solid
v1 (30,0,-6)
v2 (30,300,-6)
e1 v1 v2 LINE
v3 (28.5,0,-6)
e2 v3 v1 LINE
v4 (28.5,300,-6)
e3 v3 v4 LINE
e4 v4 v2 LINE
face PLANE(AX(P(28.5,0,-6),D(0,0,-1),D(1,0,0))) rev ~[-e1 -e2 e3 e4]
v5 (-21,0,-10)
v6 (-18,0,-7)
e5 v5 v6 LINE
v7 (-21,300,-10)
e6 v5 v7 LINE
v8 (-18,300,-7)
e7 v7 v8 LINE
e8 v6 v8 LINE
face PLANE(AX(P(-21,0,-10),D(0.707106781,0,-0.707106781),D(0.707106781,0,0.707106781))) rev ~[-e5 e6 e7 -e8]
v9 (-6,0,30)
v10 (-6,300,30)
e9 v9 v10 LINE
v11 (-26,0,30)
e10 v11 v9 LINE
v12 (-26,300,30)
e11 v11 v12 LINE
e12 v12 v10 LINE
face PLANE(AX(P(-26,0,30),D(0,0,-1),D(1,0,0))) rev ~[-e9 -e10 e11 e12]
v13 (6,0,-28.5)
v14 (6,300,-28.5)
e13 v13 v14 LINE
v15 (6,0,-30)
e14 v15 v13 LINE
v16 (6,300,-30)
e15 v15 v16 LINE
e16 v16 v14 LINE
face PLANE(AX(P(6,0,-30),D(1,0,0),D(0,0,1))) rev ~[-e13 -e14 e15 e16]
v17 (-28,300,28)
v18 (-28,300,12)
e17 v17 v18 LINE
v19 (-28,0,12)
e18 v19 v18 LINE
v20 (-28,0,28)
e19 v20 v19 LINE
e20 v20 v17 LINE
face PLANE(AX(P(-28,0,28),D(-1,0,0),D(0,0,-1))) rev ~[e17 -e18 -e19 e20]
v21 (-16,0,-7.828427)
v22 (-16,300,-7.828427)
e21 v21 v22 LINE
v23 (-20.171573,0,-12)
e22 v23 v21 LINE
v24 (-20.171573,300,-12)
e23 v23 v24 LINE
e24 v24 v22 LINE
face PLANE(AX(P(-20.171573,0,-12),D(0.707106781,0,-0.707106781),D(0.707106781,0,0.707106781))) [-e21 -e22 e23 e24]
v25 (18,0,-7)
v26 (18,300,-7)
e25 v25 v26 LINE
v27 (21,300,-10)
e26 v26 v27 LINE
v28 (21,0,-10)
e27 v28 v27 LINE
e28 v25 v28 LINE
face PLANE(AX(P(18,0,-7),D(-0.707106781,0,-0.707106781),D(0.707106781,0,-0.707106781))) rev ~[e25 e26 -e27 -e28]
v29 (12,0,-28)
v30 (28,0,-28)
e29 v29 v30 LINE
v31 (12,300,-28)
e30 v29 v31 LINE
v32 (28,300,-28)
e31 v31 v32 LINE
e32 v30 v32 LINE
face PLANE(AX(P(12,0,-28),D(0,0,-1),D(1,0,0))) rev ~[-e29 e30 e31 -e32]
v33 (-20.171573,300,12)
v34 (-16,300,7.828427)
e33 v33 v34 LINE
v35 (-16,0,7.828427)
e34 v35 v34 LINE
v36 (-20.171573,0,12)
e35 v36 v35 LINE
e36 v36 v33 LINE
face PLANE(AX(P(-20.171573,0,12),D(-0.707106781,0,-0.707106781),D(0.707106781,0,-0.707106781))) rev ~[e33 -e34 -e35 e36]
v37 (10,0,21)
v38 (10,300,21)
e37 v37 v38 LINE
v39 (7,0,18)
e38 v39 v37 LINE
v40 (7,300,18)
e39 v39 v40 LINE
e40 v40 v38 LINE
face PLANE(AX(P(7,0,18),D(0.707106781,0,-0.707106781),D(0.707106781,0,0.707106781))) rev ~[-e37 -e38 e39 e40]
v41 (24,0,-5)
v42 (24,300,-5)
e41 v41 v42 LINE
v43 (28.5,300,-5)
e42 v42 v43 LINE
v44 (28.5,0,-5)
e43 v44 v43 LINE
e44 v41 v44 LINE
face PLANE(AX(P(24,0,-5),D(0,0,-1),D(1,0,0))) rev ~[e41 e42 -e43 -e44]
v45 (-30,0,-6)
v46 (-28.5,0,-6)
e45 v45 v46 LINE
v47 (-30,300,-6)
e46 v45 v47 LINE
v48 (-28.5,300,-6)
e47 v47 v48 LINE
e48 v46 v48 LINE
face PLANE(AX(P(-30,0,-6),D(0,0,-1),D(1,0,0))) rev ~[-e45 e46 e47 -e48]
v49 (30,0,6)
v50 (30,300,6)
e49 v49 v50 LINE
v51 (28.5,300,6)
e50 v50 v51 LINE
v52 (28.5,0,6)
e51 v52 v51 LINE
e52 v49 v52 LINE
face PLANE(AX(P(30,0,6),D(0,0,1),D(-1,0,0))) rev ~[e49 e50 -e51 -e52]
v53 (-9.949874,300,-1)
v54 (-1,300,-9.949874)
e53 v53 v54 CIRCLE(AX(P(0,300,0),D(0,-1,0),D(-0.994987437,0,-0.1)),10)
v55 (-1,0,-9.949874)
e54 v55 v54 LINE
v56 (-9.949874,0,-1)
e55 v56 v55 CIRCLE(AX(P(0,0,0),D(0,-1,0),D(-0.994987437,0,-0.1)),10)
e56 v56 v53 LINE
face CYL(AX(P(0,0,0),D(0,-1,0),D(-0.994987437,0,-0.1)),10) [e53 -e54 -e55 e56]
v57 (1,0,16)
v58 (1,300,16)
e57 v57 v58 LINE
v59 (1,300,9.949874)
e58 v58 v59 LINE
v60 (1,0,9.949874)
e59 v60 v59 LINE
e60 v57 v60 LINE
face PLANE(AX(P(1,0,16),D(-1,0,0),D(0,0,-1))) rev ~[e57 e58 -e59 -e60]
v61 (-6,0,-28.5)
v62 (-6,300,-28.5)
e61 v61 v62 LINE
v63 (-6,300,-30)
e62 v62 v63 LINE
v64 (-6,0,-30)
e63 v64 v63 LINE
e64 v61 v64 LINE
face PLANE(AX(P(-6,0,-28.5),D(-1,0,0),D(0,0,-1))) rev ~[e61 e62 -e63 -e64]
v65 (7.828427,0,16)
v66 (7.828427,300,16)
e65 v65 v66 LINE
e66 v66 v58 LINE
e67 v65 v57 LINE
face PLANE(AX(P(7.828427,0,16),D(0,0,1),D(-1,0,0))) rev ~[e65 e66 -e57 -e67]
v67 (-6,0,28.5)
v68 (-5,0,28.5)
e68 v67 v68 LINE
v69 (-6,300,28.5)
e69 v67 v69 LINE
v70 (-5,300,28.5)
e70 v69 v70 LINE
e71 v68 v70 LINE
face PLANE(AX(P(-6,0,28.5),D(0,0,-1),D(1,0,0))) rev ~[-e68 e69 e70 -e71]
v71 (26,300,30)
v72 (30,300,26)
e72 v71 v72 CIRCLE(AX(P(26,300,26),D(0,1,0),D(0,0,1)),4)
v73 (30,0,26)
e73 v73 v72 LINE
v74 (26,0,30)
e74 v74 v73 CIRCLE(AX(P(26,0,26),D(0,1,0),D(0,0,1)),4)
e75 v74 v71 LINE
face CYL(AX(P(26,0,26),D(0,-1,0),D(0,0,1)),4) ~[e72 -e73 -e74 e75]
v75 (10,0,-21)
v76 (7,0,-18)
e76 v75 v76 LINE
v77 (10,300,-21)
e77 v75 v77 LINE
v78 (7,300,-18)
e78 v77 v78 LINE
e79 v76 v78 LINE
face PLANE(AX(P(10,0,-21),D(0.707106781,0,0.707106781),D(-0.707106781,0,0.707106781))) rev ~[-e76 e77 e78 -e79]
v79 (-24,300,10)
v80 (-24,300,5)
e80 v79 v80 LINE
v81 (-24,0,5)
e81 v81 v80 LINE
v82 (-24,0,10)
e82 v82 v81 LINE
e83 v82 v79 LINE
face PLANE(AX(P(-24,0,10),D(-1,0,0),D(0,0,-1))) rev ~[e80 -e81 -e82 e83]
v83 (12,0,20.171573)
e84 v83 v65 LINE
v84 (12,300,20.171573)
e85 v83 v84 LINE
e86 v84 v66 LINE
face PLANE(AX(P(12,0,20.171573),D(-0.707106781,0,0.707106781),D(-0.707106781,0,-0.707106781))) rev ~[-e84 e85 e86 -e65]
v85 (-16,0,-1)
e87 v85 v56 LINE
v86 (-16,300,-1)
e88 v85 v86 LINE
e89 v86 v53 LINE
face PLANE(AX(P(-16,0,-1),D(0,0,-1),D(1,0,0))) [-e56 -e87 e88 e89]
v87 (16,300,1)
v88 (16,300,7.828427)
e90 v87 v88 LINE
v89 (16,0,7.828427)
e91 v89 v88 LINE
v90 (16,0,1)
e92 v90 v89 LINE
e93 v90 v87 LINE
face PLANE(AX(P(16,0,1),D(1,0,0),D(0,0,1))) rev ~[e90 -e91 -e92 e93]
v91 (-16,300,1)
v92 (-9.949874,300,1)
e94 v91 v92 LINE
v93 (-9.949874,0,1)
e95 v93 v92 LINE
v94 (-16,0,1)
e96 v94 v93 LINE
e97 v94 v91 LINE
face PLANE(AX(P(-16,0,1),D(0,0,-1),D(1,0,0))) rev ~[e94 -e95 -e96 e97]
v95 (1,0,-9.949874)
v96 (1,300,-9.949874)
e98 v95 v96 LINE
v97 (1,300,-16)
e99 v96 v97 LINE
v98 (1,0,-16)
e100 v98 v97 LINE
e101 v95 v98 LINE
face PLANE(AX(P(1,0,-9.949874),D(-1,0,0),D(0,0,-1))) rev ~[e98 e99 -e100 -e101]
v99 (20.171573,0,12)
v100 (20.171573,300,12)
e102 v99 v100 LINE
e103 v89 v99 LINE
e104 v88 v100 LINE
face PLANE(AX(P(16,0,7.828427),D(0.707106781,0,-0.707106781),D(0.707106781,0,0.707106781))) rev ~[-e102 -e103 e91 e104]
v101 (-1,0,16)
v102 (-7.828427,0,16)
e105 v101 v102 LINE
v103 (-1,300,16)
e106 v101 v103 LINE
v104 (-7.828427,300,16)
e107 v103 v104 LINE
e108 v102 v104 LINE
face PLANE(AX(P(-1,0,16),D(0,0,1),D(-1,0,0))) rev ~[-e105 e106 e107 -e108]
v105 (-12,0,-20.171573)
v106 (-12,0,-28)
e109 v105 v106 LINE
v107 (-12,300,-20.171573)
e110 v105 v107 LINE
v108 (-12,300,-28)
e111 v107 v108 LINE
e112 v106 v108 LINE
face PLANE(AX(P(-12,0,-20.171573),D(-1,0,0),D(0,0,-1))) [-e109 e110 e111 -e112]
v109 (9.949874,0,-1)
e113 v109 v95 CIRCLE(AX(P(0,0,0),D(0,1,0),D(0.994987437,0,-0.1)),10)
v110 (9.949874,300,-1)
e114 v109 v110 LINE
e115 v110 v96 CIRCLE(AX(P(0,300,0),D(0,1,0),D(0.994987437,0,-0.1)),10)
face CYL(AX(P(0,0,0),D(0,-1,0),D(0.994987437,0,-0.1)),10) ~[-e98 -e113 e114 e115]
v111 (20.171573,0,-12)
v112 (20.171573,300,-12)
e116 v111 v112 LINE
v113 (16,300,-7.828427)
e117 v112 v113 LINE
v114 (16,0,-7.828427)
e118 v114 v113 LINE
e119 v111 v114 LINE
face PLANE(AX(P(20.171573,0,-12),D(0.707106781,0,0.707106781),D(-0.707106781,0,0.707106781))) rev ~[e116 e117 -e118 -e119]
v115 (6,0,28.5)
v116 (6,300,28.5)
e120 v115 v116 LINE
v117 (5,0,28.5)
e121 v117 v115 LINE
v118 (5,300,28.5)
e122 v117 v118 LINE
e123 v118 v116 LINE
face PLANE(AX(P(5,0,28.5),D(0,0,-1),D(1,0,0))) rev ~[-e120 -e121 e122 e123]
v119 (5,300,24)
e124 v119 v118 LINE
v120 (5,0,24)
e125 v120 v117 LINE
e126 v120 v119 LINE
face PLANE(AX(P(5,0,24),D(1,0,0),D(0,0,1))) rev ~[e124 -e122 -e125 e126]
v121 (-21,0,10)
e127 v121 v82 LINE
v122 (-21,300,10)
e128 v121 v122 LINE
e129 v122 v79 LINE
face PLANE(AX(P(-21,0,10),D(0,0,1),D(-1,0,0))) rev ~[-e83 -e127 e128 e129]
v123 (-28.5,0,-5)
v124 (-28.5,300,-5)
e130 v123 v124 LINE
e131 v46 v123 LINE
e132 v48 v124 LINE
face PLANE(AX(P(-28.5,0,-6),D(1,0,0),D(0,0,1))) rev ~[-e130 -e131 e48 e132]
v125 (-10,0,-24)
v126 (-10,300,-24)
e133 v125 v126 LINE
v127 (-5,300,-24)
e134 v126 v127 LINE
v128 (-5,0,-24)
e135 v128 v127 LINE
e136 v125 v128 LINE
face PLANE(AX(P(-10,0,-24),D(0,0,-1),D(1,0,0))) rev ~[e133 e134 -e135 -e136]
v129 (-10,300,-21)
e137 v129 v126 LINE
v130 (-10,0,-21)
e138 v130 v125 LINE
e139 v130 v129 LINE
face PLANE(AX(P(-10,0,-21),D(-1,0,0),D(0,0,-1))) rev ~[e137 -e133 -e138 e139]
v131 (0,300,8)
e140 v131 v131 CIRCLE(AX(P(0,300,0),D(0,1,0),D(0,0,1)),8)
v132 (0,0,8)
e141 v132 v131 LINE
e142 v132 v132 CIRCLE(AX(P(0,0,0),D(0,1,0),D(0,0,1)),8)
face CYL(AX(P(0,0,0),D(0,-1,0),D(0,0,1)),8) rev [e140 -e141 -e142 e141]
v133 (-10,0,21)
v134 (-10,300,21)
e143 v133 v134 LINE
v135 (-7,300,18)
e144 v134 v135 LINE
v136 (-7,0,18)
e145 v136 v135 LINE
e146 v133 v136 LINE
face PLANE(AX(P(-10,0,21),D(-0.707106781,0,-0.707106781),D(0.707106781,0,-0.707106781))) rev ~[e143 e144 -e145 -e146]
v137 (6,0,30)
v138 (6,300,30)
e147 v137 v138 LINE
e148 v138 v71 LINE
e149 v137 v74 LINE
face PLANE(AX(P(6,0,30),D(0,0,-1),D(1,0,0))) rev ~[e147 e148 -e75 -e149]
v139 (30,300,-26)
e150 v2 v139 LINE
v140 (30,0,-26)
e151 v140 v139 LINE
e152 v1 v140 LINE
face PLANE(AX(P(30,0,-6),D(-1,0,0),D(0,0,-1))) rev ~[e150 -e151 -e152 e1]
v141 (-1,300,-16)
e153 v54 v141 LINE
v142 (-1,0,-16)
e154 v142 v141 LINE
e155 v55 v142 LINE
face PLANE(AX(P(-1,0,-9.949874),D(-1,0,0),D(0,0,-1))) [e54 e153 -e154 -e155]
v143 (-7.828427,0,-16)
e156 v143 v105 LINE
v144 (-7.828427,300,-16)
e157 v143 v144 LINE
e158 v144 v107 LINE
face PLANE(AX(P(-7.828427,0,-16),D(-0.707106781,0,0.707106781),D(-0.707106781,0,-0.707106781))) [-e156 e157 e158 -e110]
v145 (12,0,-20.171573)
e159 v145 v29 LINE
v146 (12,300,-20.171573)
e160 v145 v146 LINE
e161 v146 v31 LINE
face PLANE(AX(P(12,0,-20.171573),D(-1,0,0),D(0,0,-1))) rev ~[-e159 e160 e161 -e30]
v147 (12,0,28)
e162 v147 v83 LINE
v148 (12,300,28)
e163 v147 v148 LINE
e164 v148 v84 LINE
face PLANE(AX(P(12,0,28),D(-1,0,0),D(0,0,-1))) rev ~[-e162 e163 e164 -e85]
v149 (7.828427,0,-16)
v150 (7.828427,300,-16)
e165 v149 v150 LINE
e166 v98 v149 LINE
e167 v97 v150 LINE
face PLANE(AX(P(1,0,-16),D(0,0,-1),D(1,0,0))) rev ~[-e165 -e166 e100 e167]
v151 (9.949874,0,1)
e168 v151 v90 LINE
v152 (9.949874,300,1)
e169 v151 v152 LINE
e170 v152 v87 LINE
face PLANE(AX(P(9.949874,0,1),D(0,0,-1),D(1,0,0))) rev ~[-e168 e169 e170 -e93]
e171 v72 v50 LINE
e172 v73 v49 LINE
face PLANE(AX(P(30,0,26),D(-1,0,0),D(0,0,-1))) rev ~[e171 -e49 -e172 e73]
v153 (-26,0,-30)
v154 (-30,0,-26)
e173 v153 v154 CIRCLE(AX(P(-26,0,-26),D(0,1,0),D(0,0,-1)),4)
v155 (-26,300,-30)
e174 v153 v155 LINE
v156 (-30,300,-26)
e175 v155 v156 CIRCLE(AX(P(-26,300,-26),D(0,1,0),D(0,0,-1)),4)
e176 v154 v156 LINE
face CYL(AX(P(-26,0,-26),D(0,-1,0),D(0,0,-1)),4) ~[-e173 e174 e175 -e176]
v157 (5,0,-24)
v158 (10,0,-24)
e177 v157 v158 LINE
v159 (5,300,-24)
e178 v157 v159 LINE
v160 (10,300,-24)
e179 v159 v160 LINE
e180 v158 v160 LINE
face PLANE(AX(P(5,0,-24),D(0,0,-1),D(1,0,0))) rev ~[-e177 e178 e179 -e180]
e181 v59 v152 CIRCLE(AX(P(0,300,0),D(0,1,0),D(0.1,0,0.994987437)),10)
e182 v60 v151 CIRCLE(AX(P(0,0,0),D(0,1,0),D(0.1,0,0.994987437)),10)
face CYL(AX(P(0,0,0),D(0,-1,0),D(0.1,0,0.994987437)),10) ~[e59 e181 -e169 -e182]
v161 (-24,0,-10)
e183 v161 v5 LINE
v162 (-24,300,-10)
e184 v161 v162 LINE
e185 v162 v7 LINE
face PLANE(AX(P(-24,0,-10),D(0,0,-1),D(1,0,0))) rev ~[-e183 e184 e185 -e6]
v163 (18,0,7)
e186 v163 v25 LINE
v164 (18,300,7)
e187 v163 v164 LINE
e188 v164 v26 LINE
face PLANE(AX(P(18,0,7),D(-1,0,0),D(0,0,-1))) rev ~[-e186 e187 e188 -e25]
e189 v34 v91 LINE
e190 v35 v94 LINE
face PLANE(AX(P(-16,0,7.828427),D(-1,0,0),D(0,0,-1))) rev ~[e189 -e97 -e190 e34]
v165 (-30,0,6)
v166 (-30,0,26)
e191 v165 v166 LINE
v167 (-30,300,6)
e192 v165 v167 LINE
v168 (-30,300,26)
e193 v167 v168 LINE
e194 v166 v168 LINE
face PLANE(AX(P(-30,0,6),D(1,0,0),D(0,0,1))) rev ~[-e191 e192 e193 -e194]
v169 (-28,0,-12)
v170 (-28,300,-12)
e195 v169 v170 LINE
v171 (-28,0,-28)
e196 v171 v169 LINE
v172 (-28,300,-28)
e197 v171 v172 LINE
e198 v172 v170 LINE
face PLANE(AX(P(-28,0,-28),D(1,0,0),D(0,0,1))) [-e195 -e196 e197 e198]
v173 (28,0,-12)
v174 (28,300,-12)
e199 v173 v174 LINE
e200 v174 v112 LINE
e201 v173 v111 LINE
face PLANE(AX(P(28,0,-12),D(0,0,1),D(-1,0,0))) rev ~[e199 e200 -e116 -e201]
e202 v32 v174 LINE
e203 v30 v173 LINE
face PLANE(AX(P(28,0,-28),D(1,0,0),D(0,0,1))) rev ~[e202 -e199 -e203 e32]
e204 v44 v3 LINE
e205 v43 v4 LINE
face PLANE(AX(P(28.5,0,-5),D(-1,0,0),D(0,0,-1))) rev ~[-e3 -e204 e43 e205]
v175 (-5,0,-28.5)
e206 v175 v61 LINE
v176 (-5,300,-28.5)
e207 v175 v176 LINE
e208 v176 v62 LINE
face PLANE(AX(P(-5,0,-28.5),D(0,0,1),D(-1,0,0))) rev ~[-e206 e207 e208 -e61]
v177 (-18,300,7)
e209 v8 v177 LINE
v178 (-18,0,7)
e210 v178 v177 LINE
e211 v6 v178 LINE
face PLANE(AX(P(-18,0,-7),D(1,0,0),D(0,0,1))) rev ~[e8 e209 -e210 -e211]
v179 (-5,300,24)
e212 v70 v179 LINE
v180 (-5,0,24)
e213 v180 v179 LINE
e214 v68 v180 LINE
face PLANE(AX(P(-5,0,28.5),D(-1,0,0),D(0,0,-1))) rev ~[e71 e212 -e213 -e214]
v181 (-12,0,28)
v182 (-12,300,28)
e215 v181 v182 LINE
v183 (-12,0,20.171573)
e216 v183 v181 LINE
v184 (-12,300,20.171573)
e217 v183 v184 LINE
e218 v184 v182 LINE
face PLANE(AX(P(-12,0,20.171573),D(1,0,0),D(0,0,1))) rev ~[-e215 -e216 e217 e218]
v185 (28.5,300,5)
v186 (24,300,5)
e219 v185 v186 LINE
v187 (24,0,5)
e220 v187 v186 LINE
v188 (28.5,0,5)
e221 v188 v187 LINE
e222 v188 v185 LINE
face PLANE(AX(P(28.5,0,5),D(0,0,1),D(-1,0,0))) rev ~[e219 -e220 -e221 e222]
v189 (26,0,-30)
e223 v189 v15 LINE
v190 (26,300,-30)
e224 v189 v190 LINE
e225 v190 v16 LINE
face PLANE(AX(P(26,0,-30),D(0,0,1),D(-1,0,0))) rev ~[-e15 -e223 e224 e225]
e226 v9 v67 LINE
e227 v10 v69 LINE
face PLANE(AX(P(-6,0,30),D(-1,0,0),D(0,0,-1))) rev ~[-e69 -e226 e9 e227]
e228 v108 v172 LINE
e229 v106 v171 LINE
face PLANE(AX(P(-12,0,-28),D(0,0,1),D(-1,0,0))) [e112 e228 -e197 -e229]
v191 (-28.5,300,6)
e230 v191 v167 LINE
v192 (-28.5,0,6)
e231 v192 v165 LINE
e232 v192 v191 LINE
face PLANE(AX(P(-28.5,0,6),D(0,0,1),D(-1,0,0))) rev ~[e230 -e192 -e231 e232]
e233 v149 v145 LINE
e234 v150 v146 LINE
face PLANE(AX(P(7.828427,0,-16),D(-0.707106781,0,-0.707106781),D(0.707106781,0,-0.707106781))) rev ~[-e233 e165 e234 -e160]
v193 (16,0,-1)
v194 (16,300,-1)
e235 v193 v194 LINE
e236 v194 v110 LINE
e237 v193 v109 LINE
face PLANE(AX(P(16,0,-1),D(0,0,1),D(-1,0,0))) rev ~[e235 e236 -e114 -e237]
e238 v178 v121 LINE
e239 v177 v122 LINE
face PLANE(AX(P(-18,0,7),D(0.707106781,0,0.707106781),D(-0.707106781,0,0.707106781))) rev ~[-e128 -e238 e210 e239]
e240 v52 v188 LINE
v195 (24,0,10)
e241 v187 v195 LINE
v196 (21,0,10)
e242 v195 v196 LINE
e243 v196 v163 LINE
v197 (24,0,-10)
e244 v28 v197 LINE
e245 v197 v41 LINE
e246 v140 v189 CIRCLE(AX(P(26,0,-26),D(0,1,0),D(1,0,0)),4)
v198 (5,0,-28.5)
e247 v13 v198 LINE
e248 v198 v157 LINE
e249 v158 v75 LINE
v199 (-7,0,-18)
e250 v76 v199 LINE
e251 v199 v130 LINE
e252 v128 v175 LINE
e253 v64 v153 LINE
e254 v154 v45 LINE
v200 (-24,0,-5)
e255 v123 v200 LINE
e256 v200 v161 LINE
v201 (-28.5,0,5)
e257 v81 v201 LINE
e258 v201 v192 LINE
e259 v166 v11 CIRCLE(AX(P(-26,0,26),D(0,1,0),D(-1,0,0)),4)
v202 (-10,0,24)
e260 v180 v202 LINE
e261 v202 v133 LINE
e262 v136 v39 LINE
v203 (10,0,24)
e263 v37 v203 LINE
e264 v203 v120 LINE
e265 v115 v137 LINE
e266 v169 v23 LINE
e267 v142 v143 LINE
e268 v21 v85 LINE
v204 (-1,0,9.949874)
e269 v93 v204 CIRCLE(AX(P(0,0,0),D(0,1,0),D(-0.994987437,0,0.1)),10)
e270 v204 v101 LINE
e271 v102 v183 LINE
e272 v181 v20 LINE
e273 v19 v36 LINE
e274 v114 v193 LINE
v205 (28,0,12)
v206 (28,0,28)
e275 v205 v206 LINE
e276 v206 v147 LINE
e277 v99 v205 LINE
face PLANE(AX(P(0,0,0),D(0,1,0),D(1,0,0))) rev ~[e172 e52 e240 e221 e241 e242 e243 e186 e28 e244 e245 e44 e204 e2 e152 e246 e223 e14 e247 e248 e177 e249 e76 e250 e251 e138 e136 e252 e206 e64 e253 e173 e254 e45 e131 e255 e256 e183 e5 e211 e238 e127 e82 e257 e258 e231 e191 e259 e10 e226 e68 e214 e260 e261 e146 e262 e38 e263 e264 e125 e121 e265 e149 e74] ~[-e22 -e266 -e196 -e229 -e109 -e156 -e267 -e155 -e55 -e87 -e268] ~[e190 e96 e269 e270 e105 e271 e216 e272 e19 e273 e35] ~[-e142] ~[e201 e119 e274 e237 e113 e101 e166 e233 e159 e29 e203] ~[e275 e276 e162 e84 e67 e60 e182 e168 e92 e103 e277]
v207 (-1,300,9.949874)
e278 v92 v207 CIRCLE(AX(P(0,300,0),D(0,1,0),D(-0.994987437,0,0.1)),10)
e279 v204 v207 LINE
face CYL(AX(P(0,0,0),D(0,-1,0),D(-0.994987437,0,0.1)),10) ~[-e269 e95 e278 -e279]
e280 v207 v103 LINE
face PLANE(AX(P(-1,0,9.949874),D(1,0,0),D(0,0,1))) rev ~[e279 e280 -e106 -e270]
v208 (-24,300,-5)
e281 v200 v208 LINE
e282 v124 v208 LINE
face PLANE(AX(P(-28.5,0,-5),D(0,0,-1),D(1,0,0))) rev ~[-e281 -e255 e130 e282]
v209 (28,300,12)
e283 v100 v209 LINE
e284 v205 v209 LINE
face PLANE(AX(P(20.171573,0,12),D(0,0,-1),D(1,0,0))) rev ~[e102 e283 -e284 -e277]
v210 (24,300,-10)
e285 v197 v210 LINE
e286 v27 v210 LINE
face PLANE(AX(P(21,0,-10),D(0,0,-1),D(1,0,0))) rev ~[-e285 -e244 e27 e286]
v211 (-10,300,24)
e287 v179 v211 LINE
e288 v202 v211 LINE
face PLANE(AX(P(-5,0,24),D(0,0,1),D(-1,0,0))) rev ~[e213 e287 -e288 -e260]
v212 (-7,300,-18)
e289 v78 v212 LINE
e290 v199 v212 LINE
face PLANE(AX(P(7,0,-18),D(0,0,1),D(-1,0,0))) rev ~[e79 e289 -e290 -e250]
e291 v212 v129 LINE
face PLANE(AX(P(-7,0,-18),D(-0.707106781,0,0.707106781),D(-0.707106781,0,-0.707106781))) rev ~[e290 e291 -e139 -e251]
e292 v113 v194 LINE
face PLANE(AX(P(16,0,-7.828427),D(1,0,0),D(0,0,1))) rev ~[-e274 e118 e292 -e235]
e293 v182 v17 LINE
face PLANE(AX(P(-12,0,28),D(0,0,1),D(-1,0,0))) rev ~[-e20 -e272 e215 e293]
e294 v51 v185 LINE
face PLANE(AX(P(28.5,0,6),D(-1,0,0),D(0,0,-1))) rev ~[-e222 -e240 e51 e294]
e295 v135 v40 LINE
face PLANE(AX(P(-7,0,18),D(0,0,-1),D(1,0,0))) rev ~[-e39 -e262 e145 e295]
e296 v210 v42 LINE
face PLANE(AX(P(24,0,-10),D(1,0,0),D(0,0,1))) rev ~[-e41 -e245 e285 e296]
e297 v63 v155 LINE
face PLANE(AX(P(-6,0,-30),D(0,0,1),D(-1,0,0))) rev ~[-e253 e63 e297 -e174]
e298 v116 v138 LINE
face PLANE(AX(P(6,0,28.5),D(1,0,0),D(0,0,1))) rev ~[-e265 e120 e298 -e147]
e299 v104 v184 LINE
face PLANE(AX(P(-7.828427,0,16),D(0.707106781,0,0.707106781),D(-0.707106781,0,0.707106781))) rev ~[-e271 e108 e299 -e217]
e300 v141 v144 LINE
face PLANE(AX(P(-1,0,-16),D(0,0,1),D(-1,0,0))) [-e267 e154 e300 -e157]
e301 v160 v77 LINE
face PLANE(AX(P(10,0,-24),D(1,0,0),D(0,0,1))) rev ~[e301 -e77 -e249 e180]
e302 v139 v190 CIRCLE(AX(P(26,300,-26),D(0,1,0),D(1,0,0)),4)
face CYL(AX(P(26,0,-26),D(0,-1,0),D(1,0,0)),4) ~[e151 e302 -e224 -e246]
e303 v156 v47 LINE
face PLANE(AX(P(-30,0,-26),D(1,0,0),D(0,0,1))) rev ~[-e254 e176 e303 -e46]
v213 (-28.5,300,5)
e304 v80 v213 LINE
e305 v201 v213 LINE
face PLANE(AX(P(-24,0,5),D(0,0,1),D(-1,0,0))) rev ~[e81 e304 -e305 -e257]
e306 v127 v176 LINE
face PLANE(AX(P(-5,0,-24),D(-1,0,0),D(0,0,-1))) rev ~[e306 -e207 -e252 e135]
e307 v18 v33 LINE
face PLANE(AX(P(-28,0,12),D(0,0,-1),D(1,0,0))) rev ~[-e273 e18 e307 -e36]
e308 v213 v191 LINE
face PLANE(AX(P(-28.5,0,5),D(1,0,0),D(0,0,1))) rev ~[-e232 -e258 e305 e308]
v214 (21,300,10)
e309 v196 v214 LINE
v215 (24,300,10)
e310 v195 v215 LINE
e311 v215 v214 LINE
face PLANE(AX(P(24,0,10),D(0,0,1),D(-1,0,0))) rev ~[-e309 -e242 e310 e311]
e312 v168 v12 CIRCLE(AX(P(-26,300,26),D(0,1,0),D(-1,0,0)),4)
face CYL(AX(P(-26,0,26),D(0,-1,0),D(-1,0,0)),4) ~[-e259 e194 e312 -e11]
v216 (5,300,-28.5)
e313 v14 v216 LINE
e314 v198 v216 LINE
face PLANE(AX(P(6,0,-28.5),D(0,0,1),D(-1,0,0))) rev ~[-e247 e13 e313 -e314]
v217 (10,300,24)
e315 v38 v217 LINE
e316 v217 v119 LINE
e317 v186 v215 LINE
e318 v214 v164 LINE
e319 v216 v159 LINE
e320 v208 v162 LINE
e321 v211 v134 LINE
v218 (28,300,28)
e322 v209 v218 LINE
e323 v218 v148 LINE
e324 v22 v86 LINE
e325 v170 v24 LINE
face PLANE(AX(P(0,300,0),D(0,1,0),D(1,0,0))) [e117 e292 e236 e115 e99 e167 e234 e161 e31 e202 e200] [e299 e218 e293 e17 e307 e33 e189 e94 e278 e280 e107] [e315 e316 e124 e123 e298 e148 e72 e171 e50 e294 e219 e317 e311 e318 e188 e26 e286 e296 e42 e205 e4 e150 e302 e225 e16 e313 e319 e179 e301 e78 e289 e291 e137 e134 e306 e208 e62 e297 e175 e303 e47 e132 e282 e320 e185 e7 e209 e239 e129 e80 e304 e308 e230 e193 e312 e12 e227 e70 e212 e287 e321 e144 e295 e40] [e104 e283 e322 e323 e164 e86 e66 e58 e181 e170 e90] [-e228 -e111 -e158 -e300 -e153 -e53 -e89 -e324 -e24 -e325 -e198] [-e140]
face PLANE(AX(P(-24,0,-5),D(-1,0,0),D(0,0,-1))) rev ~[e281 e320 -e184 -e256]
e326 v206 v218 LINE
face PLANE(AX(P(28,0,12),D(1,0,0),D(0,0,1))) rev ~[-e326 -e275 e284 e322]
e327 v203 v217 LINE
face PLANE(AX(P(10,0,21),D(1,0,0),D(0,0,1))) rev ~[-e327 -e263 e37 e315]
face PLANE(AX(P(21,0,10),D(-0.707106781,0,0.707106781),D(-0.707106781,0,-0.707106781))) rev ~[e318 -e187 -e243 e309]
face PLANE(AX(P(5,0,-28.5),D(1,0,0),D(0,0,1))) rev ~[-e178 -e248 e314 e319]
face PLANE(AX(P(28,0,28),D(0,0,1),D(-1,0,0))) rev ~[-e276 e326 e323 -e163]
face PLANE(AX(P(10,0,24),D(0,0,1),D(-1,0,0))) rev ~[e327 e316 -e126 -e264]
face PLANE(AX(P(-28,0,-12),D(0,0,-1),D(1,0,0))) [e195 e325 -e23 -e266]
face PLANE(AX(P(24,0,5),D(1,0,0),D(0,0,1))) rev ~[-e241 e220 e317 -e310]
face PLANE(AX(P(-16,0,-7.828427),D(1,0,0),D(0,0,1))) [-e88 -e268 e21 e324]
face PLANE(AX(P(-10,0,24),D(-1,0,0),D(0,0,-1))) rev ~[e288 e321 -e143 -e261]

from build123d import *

# Parameters (mm, degrees)
SKETCH_1_R      = 8
EXTRUDE_1_DEPTH = 300


with BuildPart() as part:
    # 草图1 → 凸台-拉伸1 (new body)
    with BuildSketch(Plane(origin=(0, 0, 0), x_dir=(1, 0, 0), z_dir=(0, 1, 0))):
        with BuildLine():
            Line((-30, 5.999999999), (-28.5, 5.999999999))
            Line((-28.5, 5.999999999), (-28.5, 4.999999999))
            Line((-28.5, 4.999999999), (-24, 4.999999999))
            Line((-24, 4.999999999), (-24, 9.999999999))
            Line((-24, 9.999999999), (-21, 9.999999999))
            Line((-21, 9.999999999), (-18, 6.999999999))
            Line((-18, 6.999999999), (-18, -7.000000001))
            Line((-18, -7.000000001), (-21, -10.000000001))
            Line((-21, -10.000000001), (-24, -10.000000001))
            Line((-24, -10.000000001), (-24, -5.000000001))
            Line((-24, -5.000000001), (-28.5, -5.000000001))
            Line((-28.5, -5.000000001), (-28.5, -6.000000001))
            Line((-28.5, -6.000000001), (-30, -6.000000001))
            Line((-30, -6.000000001), (-30, -26.000000001))
            ThreePointArc((-30, -26.000000001), (-28.828427125, -28.828427126), (-26, -30.000000001))
            Line((-26, -30.000000001), (-6, -30.000000001))
            Line((-6, -30.000000001), (-6, -28.500000001))
            Line((-6, -28.500000001), (-5, -28.500000001))
            Line((-5, -28.500000001), (-5, -24.000000001))
            Line((-5, -24.000000001), (-10, -24.000000001))
            Line((-10, -24.000000001), (-10, -21.000000001))
            Line((-10, -21.000000001), (-7, -18.000000001))
            Line((-7, -18.000000001), (7, -18.000000001))
            Line((7, -18.000000001), (10, -21.000000001))
            Line((10, -21.000000001), (10, -24.000000001))
            Line((10, -24.000000001), (5, -24.000000001))
            Line((5, -24.000000001), (5, -28.500000001))
            Line((5, -28.500000001), (6, -28.500000001))
            Line((6, -28.500000001), (6, -30.000000001))
            Line((6, -30.000000001), (26, -30.000000001))
            ThreePointArc((26, -30.000000001), (28.828427125, -28.828427126), (30, -26.000000001))
            Line((30, -26.000000001), (30, -6.000000001))
            Line((30, -6.000000001), (28.5, -6.000000001))
            Line((28.5, -6.000000001), (28.5, -5.000000001))
            Line((28.5, -5.000000001), (24, -5.000000001))
            Line((24, -5.000000001), (24, -10.000000001))
            Line((24, -10.000000001), (21, -10.000000001))
            Line((21, -10.000000001), (18, -7.000000001))
            Line((18, -7.000000001), (18, 6.999999999))
            Line((18, 6.999999999), (21, 9.999999999))
            Line((21, 9.999999999), (24, 9.999999999))
            Line((24, 9.999999999), (24, 4.999999999))
            Line((24, 4.999999999), (28.5, 4.999999999))
            Line((28.5, 4.999999999), (28.5, 5.999999999))
            Line((28.5, 5.999999999), (30, 5.999999999))
            Line((30, 5.999999999), (30, 25.999999999))
            ThreePointArc((30, 25.999999999), (28.828427125, 28.828427124), (26, 29.999999999))
            Line((26, 29.999999999), (6, 29.999999999))
            Line((6, 29.999999999), (6, 28.499999999))
            Line((6, 28.499999999), (5, 28.499999999))
            Line((5, 28.499999999), (5, 23.999999999))
            Line((5, 23.999999999), (10, 23.999999999))
            Line((10, 23.999999999), (10, 20.999999999))
            Line((10, 20.999999999), (7, 17.999999999))
            Line((7, 17.999999999), (-7, 17.999999999))
            Line((-7, 17.999999999), (-10, 20.999999999))
            Line((-10, 20.999999999), (-10, 23.999999999))
            Line((-10, 23.999999999), (-5, 23.999999999))
            Line((-5, 23.999999999), (-5, 28.499999999))
            Line((-5, 28.499999999), (-6, 28.499999999))
            Line((-6, 28.499999999), (-6, 29.999999999))
            Line((-6, 29.999999999), (-26.000000001, 29.999999999))
            ThreePointArc((-26.000000001, 29.999999999), (-28.828427125, 28.828427123), (-30, 25.999999999))
            Line((-30, 25.999999999), (-30, 5.999999999))
        make_face()
        with Locations(Location((0, 0, 0), (0, 0, 270))):
            Circle(SKETCH_1_R, mode=Mode.SUBTRACT)
        with BuildLine():
            Line((-16, 1), (-9.949874371, 1))
            ThreePointArc((-9.949874371, 1), (-7.071067812, 7.071067811), (-1.000000001, 9.949874371))
            Line((-1.000000001, 9.949874371), (-1.000000001, 16))
            Line((-1.000000001, 16), (-7.828427125, 16))
            Line((-7.828427125, 16), (-12, 20.171572875))
            Line((-12, 20.171572875), (-12, 28))
            Line((-12, 28), (-28, 28))
            Line((-28, 28), (-28, 12))
            Line((-28, 12), (-20.171572875, 12))
            Line((-20.171572875, 12), (-16, 7.828427125))
            Line((-16, 7.828427125), (-16, 1))
        make_face(mode=Mode.SUBTRACT)
        with BuildLine():
            Line((1, 9.949874371), (1, 16))
            Line((1, 16), (7.828427125, 16))
            Line((7.828427125, 16), (12, 20.171572875))
            Line((12, 20.171572875), (12, 28))
            Line((12, 28), (28, 28))
            Line((28, 28), (28, 12.000000001))
            Line((28, 12.000000001), (20.171572875, 12.000000001))
            Line((20.171572875, 12.000000001), (16, 7.828427126))
            Line((16, 7.828427126), (16, 1.000000001))
            Line((16, 1.000000001), (9.949874371, 1.000000001))
            ThreePointArc((9.949874371, 1.000000001), (7.071067811, 7.071067812), (1, 9.949874371))
        make_face(mode=Mode.SUBTRACT)
        with BuildLine():
            Line((9.949874371, -1), (16, -1))
            Line((16, -1), (16, -7.828427125))
            Line((16, -7.828427125), (20.171572875, -12))
            Line((20.171572875, -12), (28.000000001, -12))
            Line((28.000000001, -12), (28.000000001, -28))
            Line((28.000000001, -28), (12.000000001, -28))
            Line((12.000000001, -28), (12.000000001, -20.171572875))
            Line((12.000000001, -20.171572875), (7.828427126, -16))
            Line((7.828427126, -16), (1.000000001, -16))
            Line((1.000000001, -16), (1.000000001, -9.949874371))
            ThreePointArc((1.000000001, -9.949874371), (7.071067812, -7.071067811), (9.949874371, -1))
        make_face(mode=Mode.SUBTRACT)
        with BuildLine():
            Line((-1, -9.949874371), (-1, -16.000000001))
            Line((-1, -16.000000001), (-7.828427125, -16.000000001))
            Line((-7.828427125, -16.000000001), (-12, -20.171572876))
            Line((-12, -20.171572876), (-12, -28.000000001))
            Line((-12, -28.000000001), (-28, -28.000000001))
            Line((-28, -28.000000001), (-28, -12.000000001))
            Line((-28, -12.000000001), (-20.171572875, -12.000000001))
            Line((-20.171572875, -12.000000001), (-16, -7.828427126))
            Line((-16, -7.828427126), (-16, -1.000000001))
            Line((-16, -1.000000001), (-9.949874371, -1.000000001))
            ThreePointArc((-9.949874371, -1.000000001), (-7.071067811, -7.071067812), (-1, -9.949874371))
        make_face(mode=Mode.SUBTRACT)
    extrude(amount=EXTRUDE_1_DEPTH)


solid = part.part
